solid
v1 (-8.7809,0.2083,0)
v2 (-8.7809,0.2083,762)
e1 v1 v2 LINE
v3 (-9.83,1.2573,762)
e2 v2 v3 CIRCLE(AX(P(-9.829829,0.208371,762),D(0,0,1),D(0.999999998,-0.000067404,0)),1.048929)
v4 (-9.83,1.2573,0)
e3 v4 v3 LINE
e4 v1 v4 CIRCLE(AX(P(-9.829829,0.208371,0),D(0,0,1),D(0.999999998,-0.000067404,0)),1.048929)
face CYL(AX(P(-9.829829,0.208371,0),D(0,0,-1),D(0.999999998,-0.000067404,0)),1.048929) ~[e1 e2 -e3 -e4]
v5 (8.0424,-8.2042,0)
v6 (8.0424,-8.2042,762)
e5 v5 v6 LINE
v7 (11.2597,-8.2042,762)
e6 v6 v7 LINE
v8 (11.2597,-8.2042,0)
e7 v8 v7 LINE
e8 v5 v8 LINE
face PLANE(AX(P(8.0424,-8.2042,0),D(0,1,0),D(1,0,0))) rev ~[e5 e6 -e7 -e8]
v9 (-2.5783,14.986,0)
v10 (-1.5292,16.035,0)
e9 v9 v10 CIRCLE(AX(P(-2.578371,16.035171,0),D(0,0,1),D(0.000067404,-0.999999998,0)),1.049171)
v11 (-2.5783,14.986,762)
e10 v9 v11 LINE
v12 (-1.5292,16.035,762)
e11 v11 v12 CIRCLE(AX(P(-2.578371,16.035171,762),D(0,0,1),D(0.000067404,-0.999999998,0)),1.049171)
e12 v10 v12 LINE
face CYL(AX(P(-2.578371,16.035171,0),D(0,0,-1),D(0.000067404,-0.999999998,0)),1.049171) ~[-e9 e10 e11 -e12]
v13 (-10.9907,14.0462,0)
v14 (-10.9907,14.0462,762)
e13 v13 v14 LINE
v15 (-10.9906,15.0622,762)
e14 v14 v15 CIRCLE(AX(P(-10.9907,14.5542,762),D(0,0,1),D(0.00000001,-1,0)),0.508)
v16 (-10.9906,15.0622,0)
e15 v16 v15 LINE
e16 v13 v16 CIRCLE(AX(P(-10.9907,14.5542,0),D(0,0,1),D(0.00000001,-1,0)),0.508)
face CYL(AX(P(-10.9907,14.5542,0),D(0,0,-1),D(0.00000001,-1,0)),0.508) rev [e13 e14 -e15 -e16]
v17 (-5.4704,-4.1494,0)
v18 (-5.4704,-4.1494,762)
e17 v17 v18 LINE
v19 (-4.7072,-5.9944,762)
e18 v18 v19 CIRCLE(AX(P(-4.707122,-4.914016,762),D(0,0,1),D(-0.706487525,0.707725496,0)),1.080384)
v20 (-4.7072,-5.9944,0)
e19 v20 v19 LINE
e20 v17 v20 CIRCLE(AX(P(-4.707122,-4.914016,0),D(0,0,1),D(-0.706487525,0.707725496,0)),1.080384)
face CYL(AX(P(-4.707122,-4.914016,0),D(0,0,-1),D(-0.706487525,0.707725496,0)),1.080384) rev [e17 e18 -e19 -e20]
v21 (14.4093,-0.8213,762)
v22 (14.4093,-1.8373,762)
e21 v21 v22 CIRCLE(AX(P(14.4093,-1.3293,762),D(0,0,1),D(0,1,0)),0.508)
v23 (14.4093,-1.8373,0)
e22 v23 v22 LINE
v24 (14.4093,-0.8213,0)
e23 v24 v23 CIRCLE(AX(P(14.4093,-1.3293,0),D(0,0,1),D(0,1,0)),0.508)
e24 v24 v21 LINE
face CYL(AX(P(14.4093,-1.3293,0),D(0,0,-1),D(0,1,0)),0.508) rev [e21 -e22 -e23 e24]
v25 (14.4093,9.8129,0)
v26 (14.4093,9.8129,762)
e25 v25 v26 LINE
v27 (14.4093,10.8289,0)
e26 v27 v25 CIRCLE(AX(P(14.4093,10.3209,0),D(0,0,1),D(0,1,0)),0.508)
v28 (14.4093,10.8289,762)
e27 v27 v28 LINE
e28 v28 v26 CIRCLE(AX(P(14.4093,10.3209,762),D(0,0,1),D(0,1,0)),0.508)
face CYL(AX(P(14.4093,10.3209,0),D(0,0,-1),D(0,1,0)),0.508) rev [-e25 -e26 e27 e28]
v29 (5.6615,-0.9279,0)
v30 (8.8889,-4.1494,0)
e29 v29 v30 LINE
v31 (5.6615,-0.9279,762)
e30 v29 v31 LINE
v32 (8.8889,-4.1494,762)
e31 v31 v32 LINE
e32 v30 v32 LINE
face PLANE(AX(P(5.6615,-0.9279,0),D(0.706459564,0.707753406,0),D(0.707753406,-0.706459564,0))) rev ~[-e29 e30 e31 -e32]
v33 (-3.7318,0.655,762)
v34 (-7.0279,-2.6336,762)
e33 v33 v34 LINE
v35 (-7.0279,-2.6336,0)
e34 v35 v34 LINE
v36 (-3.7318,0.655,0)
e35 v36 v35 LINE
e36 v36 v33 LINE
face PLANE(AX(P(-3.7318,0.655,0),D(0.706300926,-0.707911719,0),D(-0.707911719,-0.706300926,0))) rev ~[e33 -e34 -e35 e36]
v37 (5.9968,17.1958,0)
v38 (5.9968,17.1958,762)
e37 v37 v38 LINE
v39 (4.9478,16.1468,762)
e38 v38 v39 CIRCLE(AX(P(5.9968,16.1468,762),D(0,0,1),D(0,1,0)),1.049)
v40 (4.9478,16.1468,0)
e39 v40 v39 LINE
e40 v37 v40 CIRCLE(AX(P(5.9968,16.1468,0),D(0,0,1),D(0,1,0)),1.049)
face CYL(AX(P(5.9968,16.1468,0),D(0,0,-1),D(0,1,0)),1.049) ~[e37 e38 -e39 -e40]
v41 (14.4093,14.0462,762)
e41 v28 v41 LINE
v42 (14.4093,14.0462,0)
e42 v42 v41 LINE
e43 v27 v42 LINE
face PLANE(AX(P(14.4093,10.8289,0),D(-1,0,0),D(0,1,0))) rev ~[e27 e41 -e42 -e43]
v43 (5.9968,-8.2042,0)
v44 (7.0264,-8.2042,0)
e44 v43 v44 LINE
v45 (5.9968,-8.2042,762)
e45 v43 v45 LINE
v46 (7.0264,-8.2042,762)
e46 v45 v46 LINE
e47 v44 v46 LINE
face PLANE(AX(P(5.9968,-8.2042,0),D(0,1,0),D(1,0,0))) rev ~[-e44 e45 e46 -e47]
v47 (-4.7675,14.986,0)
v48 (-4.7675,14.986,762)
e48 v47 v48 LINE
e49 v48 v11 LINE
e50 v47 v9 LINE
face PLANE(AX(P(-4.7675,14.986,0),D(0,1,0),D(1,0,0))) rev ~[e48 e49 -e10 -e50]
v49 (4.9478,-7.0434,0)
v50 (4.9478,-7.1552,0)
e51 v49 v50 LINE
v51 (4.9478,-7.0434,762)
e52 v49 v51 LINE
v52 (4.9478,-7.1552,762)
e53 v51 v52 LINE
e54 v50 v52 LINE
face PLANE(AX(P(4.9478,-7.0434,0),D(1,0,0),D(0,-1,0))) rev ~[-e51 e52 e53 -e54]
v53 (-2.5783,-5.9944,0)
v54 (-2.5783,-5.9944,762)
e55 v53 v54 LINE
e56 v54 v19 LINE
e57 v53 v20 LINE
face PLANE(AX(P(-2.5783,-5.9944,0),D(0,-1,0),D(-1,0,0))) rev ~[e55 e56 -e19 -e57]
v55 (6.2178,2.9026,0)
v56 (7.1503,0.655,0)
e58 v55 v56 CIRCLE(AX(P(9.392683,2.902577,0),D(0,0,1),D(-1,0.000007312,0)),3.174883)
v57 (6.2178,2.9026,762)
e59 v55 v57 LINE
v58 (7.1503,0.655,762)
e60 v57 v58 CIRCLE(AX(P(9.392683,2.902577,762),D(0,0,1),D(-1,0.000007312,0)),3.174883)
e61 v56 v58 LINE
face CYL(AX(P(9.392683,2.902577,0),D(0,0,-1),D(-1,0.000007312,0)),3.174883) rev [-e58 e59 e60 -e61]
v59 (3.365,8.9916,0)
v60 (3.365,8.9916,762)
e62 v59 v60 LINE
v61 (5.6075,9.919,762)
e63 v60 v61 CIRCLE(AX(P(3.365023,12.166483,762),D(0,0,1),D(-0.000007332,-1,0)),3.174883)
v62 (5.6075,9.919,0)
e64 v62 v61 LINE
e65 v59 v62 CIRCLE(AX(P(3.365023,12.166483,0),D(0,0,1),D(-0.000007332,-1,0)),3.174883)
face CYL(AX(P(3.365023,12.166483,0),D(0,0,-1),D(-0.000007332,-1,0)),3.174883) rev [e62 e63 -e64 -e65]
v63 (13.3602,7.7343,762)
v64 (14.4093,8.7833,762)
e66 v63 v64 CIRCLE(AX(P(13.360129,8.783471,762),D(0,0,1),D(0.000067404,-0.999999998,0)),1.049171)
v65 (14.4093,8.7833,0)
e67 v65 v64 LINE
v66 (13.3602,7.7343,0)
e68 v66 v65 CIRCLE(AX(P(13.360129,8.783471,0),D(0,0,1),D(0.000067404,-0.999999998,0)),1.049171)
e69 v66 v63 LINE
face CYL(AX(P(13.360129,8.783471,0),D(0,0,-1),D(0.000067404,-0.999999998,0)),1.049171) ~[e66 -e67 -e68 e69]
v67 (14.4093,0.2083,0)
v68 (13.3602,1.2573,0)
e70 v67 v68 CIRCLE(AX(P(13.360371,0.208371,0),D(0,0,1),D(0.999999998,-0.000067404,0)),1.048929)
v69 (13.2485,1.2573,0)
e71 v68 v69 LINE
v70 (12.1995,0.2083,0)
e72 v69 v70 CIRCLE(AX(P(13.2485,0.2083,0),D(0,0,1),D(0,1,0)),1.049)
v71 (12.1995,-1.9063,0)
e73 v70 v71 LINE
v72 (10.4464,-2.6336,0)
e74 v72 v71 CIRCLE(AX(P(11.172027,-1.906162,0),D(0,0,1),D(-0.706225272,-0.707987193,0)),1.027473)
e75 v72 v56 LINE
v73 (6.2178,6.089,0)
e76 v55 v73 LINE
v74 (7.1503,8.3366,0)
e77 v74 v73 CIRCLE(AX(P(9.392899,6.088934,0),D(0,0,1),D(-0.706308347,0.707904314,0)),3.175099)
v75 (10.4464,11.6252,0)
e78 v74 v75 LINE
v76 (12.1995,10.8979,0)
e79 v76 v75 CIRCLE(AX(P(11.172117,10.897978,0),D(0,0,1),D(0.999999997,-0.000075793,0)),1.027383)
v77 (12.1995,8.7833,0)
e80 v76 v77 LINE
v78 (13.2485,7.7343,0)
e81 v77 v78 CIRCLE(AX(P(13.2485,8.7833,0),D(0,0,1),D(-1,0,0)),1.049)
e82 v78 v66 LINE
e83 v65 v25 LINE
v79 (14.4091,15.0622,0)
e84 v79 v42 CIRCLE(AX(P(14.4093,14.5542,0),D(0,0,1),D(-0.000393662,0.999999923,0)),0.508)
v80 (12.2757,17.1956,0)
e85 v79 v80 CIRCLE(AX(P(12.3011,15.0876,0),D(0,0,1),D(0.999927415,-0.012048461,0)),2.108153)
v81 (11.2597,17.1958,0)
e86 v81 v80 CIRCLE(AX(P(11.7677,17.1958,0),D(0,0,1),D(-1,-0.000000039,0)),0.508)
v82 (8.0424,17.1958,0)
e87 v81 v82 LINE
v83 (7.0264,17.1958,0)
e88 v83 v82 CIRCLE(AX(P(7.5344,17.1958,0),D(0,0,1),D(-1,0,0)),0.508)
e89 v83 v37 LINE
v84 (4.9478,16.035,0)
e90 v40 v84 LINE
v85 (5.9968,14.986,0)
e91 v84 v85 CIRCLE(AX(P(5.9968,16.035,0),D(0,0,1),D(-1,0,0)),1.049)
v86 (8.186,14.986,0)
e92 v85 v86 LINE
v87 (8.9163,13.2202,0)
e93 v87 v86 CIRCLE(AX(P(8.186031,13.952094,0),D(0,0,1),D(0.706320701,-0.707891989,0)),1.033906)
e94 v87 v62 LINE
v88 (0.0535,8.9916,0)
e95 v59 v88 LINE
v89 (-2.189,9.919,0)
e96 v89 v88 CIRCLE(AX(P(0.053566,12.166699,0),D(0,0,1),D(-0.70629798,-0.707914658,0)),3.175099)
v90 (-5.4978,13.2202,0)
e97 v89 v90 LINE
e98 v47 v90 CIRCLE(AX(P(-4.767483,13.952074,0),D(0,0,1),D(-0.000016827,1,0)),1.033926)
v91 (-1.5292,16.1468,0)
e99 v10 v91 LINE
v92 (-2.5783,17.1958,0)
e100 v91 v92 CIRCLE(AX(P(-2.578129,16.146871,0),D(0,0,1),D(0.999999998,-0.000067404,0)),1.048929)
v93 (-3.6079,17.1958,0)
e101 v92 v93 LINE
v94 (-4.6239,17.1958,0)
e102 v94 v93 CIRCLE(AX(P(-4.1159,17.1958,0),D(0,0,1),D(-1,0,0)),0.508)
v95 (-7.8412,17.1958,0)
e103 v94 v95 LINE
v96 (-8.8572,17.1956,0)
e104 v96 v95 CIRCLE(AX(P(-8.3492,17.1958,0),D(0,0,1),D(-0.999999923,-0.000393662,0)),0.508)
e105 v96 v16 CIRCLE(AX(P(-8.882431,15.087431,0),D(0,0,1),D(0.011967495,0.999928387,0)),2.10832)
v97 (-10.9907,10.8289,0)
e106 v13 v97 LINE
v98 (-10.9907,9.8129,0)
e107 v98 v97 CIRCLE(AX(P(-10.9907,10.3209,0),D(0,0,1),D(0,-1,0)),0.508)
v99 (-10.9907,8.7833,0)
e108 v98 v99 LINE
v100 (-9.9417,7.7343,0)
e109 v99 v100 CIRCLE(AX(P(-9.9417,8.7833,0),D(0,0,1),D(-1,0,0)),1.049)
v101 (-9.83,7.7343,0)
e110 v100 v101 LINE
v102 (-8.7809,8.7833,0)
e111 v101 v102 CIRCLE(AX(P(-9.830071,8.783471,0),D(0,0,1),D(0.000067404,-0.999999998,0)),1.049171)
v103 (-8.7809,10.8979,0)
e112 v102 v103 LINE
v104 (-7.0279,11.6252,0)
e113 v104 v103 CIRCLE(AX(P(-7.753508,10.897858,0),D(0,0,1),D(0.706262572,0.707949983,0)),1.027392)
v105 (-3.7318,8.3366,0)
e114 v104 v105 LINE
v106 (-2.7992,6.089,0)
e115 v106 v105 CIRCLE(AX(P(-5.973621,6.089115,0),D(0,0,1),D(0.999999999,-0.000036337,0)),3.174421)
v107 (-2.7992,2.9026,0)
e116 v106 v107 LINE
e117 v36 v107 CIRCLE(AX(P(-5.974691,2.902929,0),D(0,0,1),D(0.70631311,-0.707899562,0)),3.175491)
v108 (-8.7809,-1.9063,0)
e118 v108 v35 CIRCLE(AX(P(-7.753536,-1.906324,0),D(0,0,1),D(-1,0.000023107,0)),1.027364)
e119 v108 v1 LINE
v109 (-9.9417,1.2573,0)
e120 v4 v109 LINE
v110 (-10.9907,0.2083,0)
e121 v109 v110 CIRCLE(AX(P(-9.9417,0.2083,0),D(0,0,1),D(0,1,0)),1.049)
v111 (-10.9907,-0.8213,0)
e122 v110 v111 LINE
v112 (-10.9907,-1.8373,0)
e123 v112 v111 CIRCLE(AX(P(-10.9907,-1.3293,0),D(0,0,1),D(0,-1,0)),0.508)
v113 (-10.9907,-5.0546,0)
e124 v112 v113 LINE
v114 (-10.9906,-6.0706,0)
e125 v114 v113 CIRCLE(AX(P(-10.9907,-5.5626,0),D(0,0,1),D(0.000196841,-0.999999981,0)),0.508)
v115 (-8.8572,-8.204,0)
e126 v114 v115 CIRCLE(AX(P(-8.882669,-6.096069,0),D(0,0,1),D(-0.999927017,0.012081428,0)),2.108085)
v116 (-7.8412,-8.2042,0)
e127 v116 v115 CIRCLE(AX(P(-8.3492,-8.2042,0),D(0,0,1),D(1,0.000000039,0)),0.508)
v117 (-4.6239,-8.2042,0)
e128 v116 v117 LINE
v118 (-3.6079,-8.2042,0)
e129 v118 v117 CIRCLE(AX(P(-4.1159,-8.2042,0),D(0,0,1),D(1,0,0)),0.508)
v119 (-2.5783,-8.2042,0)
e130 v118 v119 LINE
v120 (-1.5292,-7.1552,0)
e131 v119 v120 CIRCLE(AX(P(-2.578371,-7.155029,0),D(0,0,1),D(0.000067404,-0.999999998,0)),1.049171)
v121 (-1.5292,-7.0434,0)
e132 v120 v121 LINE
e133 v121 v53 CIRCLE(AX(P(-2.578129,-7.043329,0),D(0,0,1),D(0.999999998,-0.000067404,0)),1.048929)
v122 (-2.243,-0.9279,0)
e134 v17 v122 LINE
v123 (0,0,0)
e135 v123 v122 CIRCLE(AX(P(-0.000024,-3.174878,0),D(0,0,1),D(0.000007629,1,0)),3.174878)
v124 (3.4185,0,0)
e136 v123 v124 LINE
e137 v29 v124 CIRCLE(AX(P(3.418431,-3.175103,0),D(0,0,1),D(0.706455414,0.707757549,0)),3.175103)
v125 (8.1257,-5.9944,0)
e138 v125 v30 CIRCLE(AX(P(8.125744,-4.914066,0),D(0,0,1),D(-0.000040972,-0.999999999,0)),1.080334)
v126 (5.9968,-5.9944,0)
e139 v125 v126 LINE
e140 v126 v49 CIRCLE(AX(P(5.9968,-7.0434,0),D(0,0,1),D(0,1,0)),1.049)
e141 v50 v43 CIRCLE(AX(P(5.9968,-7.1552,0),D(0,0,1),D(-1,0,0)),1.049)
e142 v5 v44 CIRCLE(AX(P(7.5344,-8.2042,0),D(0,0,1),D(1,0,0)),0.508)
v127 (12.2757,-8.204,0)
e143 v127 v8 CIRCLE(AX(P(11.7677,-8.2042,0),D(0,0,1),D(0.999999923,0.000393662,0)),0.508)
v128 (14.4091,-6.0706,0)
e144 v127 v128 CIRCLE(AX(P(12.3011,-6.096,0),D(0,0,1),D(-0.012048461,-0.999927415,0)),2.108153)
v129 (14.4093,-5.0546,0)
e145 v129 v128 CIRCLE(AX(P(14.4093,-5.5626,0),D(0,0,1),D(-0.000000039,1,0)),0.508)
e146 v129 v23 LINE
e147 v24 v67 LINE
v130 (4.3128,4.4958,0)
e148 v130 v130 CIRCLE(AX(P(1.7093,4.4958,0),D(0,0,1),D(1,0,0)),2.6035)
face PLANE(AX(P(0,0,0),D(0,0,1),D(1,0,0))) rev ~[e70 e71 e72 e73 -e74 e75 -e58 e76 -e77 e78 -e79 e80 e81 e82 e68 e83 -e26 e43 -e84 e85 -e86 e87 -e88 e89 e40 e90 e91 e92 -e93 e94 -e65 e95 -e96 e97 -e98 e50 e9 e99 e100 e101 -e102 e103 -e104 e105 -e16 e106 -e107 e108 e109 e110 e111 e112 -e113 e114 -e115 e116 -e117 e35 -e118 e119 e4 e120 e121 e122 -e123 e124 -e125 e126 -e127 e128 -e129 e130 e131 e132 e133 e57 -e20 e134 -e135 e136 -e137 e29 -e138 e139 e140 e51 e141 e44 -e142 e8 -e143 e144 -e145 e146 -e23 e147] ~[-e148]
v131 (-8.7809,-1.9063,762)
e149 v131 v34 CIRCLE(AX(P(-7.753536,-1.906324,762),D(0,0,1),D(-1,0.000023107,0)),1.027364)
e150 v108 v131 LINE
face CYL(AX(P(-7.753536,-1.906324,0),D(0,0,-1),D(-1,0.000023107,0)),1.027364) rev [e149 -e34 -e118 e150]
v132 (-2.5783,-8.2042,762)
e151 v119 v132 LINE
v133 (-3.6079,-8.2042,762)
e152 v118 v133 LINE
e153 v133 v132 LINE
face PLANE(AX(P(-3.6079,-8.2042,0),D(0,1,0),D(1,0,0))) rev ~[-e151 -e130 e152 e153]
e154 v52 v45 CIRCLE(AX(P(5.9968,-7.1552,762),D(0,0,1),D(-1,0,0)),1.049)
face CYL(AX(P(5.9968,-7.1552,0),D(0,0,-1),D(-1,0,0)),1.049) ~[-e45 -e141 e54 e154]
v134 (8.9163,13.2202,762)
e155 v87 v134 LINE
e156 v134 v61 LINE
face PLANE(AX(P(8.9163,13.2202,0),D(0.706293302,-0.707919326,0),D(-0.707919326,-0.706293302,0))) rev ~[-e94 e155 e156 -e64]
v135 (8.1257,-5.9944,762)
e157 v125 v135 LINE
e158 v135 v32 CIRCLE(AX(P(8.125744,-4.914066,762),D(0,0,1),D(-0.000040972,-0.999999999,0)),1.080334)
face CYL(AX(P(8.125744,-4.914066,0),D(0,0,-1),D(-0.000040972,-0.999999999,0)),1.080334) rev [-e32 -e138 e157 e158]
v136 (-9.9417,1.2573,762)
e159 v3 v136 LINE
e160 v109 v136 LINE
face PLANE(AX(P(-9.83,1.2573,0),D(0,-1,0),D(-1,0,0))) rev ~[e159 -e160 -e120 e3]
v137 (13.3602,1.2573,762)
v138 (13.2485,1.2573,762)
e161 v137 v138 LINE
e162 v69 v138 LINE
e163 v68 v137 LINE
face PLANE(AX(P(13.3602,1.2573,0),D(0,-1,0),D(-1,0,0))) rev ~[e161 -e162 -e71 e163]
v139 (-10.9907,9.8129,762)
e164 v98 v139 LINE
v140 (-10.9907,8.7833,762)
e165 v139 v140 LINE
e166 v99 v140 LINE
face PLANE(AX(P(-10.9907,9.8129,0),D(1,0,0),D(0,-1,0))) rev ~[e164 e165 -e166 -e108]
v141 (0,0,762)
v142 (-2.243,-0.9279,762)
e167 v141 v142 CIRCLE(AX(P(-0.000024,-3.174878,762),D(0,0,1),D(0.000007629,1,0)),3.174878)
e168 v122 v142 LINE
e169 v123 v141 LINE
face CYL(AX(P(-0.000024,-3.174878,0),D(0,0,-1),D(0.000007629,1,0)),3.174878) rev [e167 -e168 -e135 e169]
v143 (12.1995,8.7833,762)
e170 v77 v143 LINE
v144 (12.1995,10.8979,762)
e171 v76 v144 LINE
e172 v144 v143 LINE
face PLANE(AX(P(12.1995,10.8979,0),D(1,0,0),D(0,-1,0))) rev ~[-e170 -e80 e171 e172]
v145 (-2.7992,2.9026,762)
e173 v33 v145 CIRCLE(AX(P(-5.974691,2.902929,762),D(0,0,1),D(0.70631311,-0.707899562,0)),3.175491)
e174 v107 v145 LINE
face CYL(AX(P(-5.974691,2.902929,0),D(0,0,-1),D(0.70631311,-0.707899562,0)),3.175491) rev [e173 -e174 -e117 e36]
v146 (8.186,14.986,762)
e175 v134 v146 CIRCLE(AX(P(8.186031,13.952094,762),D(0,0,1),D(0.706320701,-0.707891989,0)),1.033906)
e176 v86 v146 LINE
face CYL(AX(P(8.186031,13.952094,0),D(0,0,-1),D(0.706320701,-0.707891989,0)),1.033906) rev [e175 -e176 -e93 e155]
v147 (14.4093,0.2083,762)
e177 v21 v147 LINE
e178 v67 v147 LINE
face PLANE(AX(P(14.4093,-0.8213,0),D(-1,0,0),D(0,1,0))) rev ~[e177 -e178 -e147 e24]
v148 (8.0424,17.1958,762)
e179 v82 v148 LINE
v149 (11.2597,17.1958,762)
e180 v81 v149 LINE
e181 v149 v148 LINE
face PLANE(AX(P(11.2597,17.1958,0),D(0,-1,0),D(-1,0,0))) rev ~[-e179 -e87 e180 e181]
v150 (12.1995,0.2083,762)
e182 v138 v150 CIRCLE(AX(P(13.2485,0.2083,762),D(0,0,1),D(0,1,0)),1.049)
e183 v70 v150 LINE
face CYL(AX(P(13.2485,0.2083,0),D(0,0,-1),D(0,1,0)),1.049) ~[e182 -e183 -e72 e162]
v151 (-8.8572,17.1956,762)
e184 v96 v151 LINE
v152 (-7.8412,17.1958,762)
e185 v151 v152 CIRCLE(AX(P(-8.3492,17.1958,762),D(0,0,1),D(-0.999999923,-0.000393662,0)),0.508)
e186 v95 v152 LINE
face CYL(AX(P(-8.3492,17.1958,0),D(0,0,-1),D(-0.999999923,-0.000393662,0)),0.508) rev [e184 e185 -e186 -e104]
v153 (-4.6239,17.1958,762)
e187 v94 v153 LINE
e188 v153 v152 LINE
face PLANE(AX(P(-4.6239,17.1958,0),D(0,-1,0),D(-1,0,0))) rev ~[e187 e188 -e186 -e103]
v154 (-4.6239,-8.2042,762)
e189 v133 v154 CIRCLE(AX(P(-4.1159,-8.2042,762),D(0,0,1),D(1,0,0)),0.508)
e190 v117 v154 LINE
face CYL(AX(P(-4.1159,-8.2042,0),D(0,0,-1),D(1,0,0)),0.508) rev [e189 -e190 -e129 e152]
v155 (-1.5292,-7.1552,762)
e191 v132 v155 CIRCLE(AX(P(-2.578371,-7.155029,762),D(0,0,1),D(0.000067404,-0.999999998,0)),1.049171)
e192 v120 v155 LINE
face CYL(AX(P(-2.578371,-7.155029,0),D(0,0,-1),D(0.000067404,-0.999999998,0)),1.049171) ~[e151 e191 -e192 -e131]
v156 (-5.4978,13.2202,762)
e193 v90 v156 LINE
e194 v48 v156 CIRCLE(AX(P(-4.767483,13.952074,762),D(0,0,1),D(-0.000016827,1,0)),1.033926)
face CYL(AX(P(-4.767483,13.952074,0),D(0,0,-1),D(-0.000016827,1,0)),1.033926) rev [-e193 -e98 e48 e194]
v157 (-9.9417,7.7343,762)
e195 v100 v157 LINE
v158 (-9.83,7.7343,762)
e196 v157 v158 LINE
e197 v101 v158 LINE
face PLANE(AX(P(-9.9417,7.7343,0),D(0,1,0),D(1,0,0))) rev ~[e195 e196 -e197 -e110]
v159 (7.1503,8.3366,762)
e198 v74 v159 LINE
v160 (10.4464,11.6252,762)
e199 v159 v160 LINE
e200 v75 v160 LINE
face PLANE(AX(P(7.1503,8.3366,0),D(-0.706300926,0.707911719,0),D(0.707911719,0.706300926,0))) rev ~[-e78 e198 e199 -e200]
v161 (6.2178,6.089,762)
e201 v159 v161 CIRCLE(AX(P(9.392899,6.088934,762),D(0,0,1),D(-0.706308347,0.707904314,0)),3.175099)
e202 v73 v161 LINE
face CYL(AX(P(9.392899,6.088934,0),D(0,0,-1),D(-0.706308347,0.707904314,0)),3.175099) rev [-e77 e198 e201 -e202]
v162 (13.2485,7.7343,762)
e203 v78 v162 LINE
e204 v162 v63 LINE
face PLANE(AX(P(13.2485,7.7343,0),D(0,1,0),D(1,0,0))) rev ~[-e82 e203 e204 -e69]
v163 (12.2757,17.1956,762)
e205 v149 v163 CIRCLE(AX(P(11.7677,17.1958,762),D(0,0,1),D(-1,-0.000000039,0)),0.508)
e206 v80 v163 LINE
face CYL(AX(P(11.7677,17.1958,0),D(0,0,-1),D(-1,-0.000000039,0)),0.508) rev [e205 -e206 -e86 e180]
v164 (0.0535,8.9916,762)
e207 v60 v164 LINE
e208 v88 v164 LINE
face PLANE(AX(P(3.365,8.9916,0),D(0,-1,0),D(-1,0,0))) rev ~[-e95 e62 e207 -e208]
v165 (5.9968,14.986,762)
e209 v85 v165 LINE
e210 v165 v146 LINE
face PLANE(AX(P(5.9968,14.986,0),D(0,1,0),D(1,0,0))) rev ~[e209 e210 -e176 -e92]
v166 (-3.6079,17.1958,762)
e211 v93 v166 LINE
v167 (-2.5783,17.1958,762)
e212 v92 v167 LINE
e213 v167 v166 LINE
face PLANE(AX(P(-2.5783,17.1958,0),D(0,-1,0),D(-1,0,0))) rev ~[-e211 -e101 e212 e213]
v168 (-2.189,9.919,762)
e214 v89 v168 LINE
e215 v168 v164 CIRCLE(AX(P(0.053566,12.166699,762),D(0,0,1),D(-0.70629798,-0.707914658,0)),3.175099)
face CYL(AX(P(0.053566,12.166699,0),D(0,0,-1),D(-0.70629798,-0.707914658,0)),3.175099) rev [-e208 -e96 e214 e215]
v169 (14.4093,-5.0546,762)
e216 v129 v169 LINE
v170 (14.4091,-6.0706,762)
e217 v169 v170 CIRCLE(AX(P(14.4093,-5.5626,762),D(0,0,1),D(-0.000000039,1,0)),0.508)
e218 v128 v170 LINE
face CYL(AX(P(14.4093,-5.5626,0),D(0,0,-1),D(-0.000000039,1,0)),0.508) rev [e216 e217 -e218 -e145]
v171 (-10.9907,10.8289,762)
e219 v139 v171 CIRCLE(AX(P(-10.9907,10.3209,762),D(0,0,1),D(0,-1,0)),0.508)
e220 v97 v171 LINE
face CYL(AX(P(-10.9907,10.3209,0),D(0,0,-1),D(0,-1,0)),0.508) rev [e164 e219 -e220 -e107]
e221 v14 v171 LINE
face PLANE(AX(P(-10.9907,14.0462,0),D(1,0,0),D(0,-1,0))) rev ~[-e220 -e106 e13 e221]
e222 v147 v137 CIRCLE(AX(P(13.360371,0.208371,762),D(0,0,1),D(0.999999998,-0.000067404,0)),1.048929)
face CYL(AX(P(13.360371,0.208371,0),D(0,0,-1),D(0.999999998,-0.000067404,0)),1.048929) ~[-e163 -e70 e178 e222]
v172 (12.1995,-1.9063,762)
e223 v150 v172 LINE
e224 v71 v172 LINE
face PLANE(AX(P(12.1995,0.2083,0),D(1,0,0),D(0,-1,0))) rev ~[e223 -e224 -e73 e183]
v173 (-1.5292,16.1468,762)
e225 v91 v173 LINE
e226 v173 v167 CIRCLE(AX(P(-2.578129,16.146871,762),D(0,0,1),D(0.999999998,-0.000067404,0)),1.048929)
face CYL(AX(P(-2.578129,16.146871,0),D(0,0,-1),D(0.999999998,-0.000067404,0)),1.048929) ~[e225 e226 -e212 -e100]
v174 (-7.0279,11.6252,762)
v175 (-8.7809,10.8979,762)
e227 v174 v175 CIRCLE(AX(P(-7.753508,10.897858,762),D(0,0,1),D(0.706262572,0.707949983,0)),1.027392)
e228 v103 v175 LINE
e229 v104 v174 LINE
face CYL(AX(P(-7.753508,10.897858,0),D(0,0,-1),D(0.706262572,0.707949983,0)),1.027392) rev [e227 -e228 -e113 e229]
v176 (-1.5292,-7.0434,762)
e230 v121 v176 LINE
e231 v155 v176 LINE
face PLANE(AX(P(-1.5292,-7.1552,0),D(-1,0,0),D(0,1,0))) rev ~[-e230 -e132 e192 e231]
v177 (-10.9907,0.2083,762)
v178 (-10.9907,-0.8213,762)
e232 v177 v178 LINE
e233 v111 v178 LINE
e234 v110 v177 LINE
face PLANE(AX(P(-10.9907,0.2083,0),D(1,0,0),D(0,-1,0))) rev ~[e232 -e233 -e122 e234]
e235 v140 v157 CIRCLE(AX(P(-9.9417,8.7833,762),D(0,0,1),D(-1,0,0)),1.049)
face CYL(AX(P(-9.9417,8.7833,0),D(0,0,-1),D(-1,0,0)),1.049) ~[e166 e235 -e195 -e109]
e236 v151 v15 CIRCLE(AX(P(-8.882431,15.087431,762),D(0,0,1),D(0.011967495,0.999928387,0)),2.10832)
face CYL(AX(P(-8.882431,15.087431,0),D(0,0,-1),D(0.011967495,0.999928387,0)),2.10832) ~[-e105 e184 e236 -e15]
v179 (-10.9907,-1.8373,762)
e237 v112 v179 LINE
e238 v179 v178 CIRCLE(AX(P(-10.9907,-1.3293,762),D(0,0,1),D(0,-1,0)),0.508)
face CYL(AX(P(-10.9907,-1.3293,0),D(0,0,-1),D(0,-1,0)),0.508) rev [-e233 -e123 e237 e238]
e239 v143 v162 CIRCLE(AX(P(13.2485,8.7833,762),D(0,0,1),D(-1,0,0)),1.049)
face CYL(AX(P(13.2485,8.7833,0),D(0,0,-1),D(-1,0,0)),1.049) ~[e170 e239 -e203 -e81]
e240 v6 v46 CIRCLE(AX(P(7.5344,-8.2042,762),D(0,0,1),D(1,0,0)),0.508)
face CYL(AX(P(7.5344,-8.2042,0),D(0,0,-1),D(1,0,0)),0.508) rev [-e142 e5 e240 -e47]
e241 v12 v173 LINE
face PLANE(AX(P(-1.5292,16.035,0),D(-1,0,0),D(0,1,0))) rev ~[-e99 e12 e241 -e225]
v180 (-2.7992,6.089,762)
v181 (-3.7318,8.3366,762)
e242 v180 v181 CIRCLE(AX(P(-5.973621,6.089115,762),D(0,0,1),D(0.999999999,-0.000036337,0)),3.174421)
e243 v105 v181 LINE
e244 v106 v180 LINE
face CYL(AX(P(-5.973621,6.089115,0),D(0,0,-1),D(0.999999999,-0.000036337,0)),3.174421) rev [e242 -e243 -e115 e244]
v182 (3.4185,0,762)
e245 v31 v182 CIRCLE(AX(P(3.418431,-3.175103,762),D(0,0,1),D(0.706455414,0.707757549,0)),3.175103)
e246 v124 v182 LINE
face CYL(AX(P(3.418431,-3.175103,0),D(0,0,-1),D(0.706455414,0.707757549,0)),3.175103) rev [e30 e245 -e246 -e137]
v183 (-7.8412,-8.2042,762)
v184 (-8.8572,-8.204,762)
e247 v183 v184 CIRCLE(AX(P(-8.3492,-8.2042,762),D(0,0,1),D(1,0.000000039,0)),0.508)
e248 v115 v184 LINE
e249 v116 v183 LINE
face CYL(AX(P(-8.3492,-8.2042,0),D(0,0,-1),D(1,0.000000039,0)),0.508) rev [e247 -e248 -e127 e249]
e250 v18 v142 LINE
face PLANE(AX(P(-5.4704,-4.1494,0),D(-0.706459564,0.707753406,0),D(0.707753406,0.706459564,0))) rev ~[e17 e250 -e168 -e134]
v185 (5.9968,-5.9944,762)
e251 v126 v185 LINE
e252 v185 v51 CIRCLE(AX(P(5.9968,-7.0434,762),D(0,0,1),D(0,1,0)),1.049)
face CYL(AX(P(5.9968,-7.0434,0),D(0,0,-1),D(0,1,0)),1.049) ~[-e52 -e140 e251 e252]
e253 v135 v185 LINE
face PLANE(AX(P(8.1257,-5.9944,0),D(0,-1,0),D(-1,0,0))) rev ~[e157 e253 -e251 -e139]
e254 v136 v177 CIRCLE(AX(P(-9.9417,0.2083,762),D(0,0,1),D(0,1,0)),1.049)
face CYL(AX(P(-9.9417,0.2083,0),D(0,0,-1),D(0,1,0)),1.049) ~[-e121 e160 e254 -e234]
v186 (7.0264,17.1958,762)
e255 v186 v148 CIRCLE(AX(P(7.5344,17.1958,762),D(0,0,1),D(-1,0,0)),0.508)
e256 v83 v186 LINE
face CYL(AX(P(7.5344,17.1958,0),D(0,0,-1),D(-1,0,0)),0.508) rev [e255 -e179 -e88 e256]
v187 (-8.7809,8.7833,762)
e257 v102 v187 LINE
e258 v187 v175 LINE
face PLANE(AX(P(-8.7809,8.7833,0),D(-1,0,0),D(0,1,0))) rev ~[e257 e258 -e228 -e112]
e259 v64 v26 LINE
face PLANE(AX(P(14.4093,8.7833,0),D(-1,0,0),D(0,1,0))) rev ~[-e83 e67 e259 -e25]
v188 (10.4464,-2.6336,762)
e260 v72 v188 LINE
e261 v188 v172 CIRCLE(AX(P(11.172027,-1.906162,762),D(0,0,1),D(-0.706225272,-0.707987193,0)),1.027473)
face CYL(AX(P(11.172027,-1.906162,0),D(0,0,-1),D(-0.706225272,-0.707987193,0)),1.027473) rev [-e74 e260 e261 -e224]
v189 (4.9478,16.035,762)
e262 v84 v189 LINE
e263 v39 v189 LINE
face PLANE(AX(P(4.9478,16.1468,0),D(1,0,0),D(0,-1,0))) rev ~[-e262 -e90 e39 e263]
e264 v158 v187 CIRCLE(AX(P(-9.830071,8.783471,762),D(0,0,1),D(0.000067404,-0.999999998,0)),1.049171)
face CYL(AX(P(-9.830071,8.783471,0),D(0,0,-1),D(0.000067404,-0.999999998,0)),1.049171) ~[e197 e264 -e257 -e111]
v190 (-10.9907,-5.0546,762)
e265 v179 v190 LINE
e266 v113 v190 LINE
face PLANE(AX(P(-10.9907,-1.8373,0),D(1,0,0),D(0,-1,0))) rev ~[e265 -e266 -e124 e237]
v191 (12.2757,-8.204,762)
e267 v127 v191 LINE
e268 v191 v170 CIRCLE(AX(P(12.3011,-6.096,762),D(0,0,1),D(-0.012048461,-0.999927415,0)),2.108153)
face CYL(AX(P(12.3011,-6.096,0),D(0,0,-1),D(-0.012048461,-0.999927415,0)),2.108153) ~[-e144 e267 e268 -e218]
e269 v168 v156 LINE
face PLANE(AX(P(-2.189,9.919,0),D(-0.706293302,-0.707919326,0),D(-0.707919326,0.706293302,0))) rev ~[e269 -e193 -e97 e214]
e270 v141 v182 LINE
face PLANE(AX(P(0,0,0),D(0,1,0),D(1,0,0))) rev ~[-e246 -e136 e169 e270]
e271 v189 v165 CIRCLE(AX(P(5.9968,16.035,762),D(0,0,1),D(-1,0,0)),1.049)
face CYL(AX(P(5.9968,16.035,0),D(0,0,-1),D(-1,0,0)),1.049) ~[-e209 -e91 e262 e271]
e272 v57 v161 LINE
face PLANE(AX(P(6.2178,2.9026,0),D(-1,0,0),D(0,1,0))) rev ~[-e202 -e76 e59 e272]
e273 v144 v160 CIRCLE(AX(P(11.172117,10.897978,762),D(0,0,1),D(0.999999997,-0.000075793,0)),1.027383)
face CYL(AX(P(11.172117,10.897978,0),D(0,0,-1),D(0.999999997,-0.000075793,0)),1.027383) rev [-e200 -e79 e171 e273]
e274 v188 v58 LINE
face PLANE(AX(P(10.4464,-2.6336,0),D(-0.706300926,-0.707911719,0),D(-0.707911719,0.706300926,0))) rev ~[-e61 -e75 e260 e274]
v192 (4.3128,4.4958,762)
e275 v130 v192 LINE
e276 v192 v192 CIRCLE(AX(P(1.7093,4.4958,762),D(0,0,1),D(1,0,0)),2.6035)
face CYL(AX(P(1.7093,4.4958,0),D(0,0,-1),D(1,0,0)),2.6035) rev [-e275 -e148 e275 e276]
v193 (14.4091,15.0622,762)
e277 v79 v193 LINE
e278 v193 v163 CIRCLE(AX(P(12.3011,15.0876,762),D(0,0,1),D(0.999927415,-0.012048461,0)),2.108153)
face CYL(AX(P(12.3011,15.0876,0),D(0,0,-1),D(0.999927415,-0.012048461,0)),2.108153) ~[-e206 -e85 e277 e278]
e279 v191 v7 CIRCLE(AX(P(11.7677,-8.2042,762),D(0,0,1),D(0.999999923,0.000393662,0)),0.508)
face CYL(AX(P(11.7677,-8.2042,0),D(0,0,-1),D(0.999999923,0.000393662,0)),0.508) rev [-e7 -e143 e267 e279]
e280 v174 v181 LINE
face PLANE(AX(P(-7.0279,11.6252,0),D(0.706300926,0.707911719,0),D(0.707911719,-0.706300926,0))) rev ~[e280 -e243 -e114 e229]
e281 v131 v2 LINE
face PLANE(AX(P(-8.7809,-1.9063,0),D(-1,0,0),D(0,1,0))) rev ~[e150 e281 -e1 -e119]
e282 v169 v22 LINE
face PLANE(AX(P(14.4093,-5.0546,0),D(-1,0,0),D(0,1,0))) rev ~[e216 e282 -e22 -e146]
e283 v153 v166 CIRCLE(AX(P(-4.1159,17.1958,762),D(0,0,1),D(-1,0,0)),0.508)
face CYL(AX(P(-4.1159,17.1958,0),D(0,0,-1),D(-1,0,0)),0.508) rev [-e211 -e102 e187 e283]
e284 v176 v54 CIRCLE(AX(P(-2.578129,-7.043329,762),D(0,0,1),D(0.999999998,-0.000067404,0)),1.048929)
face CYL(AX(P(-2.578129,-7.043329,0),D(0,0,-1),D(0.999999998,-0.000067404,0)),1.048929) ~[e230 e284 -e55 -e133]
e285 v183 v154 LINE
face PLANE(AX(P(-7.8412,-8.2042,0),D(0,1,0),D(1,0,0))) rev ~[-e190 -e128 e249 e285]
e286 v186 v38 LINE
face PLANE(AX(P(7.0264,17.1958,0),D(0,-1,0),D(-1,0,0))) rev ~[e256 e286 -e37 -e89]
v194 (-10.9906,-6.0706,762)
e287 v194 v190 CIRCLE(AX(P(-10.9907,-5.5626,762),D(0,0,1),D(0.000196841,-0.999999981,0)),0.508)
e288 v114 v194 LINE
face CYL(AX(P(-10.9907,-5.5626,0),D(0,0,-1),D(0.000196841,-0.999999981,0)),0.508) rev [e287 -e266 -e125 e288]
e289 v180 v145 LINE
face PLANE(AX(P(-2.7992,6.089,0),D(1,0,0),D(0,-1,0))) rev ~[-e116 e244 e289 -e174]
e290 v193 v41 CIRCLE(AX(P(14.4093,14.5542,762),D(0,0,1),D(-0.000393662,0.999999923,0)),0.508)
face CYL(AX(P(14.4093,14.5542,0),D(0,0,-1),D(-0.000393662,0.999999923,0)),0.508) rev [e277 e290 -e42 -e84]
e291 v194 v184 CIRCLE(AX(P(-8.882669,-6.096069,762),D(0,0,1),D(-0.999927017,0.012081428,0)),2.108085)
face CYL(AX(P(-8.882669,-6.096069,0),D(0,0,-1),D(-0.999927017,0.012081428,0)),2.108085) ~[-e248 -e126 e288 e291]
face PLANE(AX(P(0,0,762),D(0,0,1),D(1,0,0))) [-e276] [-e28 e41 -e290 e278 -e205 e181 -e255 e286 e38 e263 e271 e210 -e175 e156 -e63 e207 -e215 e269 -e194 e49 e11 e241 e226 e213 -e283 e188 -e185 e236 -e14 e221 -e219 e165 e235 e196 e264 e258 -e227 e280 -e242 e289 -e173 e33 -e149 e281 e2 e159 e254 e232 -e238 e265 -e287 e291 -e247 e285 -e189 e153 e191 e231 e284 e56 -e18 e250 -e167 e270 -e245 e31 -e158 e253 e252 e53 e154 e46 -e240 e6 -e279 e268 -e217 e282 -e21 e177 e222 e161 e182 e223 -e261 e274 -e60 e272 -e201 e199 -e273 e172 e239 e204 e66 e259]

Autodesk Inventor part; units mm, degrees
ref_plane "YZ Plane" through (0, 0, 0) normal (1, 0, 0) x (0, 1, 0)
ref_plane "XZ Plane" through (0, 0, 0) normal (0, 1, 0) x (-1, 0, 0)
ref_plane "XY Plane" through (0, 0, 0) normal (0, 0, 1) x (1, 0, 0)
sketch "Sketch1" plane through (0, 0, 0) normal (0, 0, 1) x (1, 0, 0)
  arc A0 (-5.4704, -4.1494) -> (-4.7072, -5.9944) centre (-4.7072, -4.914) ccw
  line L0 (-5.4704, -4.1494) -> (-2.243, -0.9279)
  arc A1 (0, 0) -> (-2.243, -0.9279) centre (0, -3.175) ccw
  line L1 (0, 0) -> (3.4185, 0)
  arc A2 (5.6615, -0.9279) -> (3.4185, 0) centre (3.4185, -3.175) ccw
  line L2 (5.6615, -0.9279) -> (8.8889, -4.1494)
  arc A3 (8.1257, -5.9944) -> (8.8889, -4.1494) centre (8.1257, -4.914) ccw
  line L3 (8.1257, -5.9944) -> (5.9968, -5.9944)
  arc A4 (5.9968, -5.9944) -> (4.9478, -7.0434) centre (5.9968, -7.0434) ccw
  line L4 (4.9478, -7.0434) -> (4.9478, -7.1552)
  arc A5 (4.9478, -7.1552) -> (5.9968, -8.2042) centre (5.9968, -7.1552) ccw
  line L5 (5.9968, -8.2042) -> (7.0264, -8.2042)
  arc A6 (8.0424, -8.2042) -> (7.0264, -8.2042) centre (7.5344, -8.2042) ccw
  line L6 (8.0424, -8.2042) -> (11.2597, -8.2042)
  arc A7 (12.2757, -8.204) -> (11.2597, -8.2042) centre (11.7677, -8.2042) ccw
  arc A8 (12.2757, -8.204) -> (14.4091, -6.0706) centre (12.3011, -6.096) ccw
  arc A9 (14.4093, -5.0546) -> (14.4091, -6.0706) centre (14.4093, -5.5626) ccw
  line L7 (14.4093, -5.0546) -> (14.4093, -1.8373)
  arc A10 (14.4093, -0.8213) -> (14.4093, -1.8373) centre (14.4093, -1.3293) ccw
  line L8 (14.4093, -0.8213) -> (14.4093, 0.2083)
  arc A11 (14.4093, 0.2083) -> (13.3602, 1.2573) centre (13.3602, 0.2083) ccw
  line L9 (13.3602, 1.2573) -> (13.2485, 1.2573)
  arc A12 (13.2485, 1.2573) -> (12.1995, 0.2083) centre (13.2485, 0.2083) ccw
  line L10 (12.1995, 0.2083) -> (12.1995, -1.9063)
  arc A13 (10.4464, -2.6336) -> (12.1995, -1.9063) centre (11.172, -1.9063) ccw
  line L11 (10.4464, -2.6336) -> (7.1503, 0.655)
  arc A14 (6.2178, 2.9026) -> (7.1503, 0.655) centre (9.3928, 2.9026) ccw
  line L12 (6.2178, 2.9026) -> (6.2178, 6.089)
  arc A15 (7.1503, 8.3366) -> (6.2178, 6.089) centre (9.3928, 6.089) ccw
  line L13 (7.1503, 8.3366) -> (10.4464, 11.6252)
  arc A16 (12.1995, 10.8979) -> (10.4464, 11.6252) centre (11.172, 10.8979) ccw
  line L14 (12.1995, 10.8979) -> (12.1995, 8.7833)
  arc A17 (12.1995, 8.7833) -> (13.2485, 7.7343) centre (13.2485, 8.7833) ccw
  line L15 (13.2485, 7.7343) -> (13.3602, 7.7343)
  arc A18 (13.3602, 7.7343) -> (14.4093, 8.7833) centre (13.3602, 8.7833) ccw
  line L16 (14.4093, 8.7833) -> (14.4093, 9.8129)
  arc A19 (14.4093, 10.8289) -> (14.4093, 9.8129) centre (14.4093, 10.3209) ccw
  line L17 (14.4093, 10.8289) -> (14.4093, 14.0462)
  arc A20 (14.4091, 15.0622) -> (14.4093, 14.0462) centre (14.4093, 14.5542) ccw
  arc A21 (14.4091, 15.0622) -> (12.2757, 17.1956) centre (12.3011, 15.0876) ccw
  arc A22 (11.2597, 17.1958) -> (12.2757, 17.1956) centre (11.7677, 17.1958) ccw
  line L18 (11.2597, 17.1958) -> (8.0424, 17.1958)
  arc A23 (7.0264, 17.1958) -> (8.0424, 17.1958) centre (7.5344, 17.1958) ccw
  line L19 (7.0264, 17.1958) -> (5.9968, 17.1958)
  arc A24 (5.9968, 17.1958) -> (4.9478, 16.1468) centre (5.9968, 16.1468) ccw
  line L20 (4.9478, 16.1468) -> (4.9478, 16.035)
  arc A25 (4.9478, 16.035) -> (5.9968, 14.986) centre (5.9968, 16.035) ccw
  line L21 (5.9968, 14.986) -> (8.186, 14.986)
  arc A26 (8.9163, 13.2202) -> (8.186, 14.986) centre (8.186, 13.9521) ccw
  line L22 (8.9163, 13.2202) -> (5.6075, 9.919)
  arc A27 (3.365, 8.9916) -> (5.6075, 9.919) centre (3.365, 12.1666) ccw
  line L23 (3.365, 8.9916) -> (0.0535, 8.9916)
  arc A28 (-2.189, 9.919) -> (0.0535, 8.9916) centre (0.0535, 12.1666) ccw
  line L24 (-2.189, 9.919) -> (-5.4978, 13.2202)
  arc A29 (-4.7675, 14.986) -> (-5.4978, 13.2202) centre (-4.7675, 13.9521) ccw
  line L25 (-4.7675, 14.986) -> (-2.5783, 14.986)
  arc A30 (-2.5783, 14.986) -> (-1.5292, 16.035) centre (-2.5783, 16.035) ccw
  line L26 (-1.5292, 16.035) -> (-1.5292, 16.1468)
  arc A31 (-1.5292, 16.1468) -> (-2.5783, 17.1958) centre (-2.5783, 16.1468) ccw
  line L27 (-2.5783, 17.1958) -> (-3.6079, 17.1958)
  arc A32 (-4.6239, 17.1958) -> (-3.6079, 17.1958) centre (-4.1159, 17.1958) ccw
  line L28 (-4.6239, 17.1958) -> (-7.8412, 17.1958)
  arc A33 (-8.8572, 17.1956) -> (-7.8412, 17.1958) centre (-8.3492, 17.1958) ccw
  arc A34 (-8.8572, 17.1956) -> (-10.9906, 15.0622) centre (-8.8825, 15.0876) ccw
  arc A35 (-10.9907, 14.0462) -> (-10.9906, 15.0622) centre (-10.9907, 14.5542) ccw
  line L29 (-10.9907, 14.0462) -> (-10.9907, 10.8289)
  arc A36 (-10.9907, 9.8129) -> (-10.9907, 10.8289) centre (-10.9907, 10.3209) ccw
  line L30 (-10.9907, 9.8129) -> (-10.9907, 8.7833)
  arc A37 (-10.9907, 8.7833) -> (-9.9417, 7.7343) centre (-9.9417, 8.7833) ccw
  line L31 (-9.9417, 7.7343) -> (-9.83, 7.7343)
  arc A38 (-9.83, 7.7343) -> (-8.7809, 8.7833) centre (-9.83, 8.7833) ccw
  line L32 (-8.7809, 8.7833) -> (-8.7809, 10.8979)
  arc A39 (-7.0279, 11.6252) -> (-8.7809, 10.8979) centre (-7.7535, 10.8979) ccw
  line L33 (-7.0279, 11.6252) -> (-3.7318, 8.3366)
  arc A40 (-2.7992, 6.089) -> (-3.7318, 8.3366) centre (-5.9742, 6.089) ccw
  line L34 (-2.7992, 6.089) -> (-2.7992, 2.9026)
  arc A41 (-3.7318, 0.655) -> (-2.7992, 2.9026) centre (-5.9742, 2.9026) ccw
  line L35 (-3.7318, 0.655) -> (-7.0279, -2.6336)
  arc A42 (-8.7809, -1.9063) -> (-7.0279, -2.6336) centre (-7.7535, -1.9063) ccw
  line L36 (-8.7809, -1.9063) -> (-8.7809, 0.2083)
  arc A43 (-8.7809, 0.2083) -> (-9.83, 1.2573) centre (-9.83, 0.2083) ccw
  line L37 (-9.83, 1.2573) -> (-9.9417, 1.2573)
  arc A44 (-9.9417, 1.2573) -> (-10.9907, 0.2083) centre (-9.9417, 0.2083) ccw
  line L38 (-10.9907, 0.2083) -> (-10.9907, -0.8213)
  arc A45 (-10.9907, -1.8373) -> (-10.9907, -0.8213) centre (-10.9907, -1.3293) ccw
  line L39 (-10.9907, -1.8373) -> (-10.9907, -5.0546)
  arc A46 (-10.9906, -6.0706) -> (-10.9907, -5.0546) centre (-10.9907, -5.5626) ccw
  arc A47 (-10.9906, -6.0706) -> (-8.8572, -8.204) centre (-8.8825, -6.096) ccw
  arc A48 (-7.8412, -8.2042) -> (-8.8572, -8.204) centre (-8.3492, -8.2042) ccw
  line L40 (-7.8412, -8.2042) -> (-4.6239, -8.2042)
  arc A49 (-3.6079, -8.2042) -> (-4.6239, -8.2042) centre (-4.1159, -8.2042) ccw
  line L41 (-3.6079, -8.2042) -> (-2.5783, -8.2042)
  arc A50 (-2.5783, -8.2042) -> (-1.5292, -7.1552) centre (-2.5783, -7.1552) ccw
  line L42 (-1.5292, -7.1552) -> (-1.5292, -7.0434)
  arc A51 (-1.5292, -7.0434) -> (-2.5783, -5.9944) centre (-2.5783, -7.0434) ccw
  line L43 (-2.5783, -5.9944) -> (-4.7072, -5.9944)
  circle A52 centre (1.7093, 4.4958) radius 2.6035
extrude "Extrusion1" add sketch "Sketch1" along normal blind 762
properties part number "30in 1x1 T slot" material "Steel, Alloy"
